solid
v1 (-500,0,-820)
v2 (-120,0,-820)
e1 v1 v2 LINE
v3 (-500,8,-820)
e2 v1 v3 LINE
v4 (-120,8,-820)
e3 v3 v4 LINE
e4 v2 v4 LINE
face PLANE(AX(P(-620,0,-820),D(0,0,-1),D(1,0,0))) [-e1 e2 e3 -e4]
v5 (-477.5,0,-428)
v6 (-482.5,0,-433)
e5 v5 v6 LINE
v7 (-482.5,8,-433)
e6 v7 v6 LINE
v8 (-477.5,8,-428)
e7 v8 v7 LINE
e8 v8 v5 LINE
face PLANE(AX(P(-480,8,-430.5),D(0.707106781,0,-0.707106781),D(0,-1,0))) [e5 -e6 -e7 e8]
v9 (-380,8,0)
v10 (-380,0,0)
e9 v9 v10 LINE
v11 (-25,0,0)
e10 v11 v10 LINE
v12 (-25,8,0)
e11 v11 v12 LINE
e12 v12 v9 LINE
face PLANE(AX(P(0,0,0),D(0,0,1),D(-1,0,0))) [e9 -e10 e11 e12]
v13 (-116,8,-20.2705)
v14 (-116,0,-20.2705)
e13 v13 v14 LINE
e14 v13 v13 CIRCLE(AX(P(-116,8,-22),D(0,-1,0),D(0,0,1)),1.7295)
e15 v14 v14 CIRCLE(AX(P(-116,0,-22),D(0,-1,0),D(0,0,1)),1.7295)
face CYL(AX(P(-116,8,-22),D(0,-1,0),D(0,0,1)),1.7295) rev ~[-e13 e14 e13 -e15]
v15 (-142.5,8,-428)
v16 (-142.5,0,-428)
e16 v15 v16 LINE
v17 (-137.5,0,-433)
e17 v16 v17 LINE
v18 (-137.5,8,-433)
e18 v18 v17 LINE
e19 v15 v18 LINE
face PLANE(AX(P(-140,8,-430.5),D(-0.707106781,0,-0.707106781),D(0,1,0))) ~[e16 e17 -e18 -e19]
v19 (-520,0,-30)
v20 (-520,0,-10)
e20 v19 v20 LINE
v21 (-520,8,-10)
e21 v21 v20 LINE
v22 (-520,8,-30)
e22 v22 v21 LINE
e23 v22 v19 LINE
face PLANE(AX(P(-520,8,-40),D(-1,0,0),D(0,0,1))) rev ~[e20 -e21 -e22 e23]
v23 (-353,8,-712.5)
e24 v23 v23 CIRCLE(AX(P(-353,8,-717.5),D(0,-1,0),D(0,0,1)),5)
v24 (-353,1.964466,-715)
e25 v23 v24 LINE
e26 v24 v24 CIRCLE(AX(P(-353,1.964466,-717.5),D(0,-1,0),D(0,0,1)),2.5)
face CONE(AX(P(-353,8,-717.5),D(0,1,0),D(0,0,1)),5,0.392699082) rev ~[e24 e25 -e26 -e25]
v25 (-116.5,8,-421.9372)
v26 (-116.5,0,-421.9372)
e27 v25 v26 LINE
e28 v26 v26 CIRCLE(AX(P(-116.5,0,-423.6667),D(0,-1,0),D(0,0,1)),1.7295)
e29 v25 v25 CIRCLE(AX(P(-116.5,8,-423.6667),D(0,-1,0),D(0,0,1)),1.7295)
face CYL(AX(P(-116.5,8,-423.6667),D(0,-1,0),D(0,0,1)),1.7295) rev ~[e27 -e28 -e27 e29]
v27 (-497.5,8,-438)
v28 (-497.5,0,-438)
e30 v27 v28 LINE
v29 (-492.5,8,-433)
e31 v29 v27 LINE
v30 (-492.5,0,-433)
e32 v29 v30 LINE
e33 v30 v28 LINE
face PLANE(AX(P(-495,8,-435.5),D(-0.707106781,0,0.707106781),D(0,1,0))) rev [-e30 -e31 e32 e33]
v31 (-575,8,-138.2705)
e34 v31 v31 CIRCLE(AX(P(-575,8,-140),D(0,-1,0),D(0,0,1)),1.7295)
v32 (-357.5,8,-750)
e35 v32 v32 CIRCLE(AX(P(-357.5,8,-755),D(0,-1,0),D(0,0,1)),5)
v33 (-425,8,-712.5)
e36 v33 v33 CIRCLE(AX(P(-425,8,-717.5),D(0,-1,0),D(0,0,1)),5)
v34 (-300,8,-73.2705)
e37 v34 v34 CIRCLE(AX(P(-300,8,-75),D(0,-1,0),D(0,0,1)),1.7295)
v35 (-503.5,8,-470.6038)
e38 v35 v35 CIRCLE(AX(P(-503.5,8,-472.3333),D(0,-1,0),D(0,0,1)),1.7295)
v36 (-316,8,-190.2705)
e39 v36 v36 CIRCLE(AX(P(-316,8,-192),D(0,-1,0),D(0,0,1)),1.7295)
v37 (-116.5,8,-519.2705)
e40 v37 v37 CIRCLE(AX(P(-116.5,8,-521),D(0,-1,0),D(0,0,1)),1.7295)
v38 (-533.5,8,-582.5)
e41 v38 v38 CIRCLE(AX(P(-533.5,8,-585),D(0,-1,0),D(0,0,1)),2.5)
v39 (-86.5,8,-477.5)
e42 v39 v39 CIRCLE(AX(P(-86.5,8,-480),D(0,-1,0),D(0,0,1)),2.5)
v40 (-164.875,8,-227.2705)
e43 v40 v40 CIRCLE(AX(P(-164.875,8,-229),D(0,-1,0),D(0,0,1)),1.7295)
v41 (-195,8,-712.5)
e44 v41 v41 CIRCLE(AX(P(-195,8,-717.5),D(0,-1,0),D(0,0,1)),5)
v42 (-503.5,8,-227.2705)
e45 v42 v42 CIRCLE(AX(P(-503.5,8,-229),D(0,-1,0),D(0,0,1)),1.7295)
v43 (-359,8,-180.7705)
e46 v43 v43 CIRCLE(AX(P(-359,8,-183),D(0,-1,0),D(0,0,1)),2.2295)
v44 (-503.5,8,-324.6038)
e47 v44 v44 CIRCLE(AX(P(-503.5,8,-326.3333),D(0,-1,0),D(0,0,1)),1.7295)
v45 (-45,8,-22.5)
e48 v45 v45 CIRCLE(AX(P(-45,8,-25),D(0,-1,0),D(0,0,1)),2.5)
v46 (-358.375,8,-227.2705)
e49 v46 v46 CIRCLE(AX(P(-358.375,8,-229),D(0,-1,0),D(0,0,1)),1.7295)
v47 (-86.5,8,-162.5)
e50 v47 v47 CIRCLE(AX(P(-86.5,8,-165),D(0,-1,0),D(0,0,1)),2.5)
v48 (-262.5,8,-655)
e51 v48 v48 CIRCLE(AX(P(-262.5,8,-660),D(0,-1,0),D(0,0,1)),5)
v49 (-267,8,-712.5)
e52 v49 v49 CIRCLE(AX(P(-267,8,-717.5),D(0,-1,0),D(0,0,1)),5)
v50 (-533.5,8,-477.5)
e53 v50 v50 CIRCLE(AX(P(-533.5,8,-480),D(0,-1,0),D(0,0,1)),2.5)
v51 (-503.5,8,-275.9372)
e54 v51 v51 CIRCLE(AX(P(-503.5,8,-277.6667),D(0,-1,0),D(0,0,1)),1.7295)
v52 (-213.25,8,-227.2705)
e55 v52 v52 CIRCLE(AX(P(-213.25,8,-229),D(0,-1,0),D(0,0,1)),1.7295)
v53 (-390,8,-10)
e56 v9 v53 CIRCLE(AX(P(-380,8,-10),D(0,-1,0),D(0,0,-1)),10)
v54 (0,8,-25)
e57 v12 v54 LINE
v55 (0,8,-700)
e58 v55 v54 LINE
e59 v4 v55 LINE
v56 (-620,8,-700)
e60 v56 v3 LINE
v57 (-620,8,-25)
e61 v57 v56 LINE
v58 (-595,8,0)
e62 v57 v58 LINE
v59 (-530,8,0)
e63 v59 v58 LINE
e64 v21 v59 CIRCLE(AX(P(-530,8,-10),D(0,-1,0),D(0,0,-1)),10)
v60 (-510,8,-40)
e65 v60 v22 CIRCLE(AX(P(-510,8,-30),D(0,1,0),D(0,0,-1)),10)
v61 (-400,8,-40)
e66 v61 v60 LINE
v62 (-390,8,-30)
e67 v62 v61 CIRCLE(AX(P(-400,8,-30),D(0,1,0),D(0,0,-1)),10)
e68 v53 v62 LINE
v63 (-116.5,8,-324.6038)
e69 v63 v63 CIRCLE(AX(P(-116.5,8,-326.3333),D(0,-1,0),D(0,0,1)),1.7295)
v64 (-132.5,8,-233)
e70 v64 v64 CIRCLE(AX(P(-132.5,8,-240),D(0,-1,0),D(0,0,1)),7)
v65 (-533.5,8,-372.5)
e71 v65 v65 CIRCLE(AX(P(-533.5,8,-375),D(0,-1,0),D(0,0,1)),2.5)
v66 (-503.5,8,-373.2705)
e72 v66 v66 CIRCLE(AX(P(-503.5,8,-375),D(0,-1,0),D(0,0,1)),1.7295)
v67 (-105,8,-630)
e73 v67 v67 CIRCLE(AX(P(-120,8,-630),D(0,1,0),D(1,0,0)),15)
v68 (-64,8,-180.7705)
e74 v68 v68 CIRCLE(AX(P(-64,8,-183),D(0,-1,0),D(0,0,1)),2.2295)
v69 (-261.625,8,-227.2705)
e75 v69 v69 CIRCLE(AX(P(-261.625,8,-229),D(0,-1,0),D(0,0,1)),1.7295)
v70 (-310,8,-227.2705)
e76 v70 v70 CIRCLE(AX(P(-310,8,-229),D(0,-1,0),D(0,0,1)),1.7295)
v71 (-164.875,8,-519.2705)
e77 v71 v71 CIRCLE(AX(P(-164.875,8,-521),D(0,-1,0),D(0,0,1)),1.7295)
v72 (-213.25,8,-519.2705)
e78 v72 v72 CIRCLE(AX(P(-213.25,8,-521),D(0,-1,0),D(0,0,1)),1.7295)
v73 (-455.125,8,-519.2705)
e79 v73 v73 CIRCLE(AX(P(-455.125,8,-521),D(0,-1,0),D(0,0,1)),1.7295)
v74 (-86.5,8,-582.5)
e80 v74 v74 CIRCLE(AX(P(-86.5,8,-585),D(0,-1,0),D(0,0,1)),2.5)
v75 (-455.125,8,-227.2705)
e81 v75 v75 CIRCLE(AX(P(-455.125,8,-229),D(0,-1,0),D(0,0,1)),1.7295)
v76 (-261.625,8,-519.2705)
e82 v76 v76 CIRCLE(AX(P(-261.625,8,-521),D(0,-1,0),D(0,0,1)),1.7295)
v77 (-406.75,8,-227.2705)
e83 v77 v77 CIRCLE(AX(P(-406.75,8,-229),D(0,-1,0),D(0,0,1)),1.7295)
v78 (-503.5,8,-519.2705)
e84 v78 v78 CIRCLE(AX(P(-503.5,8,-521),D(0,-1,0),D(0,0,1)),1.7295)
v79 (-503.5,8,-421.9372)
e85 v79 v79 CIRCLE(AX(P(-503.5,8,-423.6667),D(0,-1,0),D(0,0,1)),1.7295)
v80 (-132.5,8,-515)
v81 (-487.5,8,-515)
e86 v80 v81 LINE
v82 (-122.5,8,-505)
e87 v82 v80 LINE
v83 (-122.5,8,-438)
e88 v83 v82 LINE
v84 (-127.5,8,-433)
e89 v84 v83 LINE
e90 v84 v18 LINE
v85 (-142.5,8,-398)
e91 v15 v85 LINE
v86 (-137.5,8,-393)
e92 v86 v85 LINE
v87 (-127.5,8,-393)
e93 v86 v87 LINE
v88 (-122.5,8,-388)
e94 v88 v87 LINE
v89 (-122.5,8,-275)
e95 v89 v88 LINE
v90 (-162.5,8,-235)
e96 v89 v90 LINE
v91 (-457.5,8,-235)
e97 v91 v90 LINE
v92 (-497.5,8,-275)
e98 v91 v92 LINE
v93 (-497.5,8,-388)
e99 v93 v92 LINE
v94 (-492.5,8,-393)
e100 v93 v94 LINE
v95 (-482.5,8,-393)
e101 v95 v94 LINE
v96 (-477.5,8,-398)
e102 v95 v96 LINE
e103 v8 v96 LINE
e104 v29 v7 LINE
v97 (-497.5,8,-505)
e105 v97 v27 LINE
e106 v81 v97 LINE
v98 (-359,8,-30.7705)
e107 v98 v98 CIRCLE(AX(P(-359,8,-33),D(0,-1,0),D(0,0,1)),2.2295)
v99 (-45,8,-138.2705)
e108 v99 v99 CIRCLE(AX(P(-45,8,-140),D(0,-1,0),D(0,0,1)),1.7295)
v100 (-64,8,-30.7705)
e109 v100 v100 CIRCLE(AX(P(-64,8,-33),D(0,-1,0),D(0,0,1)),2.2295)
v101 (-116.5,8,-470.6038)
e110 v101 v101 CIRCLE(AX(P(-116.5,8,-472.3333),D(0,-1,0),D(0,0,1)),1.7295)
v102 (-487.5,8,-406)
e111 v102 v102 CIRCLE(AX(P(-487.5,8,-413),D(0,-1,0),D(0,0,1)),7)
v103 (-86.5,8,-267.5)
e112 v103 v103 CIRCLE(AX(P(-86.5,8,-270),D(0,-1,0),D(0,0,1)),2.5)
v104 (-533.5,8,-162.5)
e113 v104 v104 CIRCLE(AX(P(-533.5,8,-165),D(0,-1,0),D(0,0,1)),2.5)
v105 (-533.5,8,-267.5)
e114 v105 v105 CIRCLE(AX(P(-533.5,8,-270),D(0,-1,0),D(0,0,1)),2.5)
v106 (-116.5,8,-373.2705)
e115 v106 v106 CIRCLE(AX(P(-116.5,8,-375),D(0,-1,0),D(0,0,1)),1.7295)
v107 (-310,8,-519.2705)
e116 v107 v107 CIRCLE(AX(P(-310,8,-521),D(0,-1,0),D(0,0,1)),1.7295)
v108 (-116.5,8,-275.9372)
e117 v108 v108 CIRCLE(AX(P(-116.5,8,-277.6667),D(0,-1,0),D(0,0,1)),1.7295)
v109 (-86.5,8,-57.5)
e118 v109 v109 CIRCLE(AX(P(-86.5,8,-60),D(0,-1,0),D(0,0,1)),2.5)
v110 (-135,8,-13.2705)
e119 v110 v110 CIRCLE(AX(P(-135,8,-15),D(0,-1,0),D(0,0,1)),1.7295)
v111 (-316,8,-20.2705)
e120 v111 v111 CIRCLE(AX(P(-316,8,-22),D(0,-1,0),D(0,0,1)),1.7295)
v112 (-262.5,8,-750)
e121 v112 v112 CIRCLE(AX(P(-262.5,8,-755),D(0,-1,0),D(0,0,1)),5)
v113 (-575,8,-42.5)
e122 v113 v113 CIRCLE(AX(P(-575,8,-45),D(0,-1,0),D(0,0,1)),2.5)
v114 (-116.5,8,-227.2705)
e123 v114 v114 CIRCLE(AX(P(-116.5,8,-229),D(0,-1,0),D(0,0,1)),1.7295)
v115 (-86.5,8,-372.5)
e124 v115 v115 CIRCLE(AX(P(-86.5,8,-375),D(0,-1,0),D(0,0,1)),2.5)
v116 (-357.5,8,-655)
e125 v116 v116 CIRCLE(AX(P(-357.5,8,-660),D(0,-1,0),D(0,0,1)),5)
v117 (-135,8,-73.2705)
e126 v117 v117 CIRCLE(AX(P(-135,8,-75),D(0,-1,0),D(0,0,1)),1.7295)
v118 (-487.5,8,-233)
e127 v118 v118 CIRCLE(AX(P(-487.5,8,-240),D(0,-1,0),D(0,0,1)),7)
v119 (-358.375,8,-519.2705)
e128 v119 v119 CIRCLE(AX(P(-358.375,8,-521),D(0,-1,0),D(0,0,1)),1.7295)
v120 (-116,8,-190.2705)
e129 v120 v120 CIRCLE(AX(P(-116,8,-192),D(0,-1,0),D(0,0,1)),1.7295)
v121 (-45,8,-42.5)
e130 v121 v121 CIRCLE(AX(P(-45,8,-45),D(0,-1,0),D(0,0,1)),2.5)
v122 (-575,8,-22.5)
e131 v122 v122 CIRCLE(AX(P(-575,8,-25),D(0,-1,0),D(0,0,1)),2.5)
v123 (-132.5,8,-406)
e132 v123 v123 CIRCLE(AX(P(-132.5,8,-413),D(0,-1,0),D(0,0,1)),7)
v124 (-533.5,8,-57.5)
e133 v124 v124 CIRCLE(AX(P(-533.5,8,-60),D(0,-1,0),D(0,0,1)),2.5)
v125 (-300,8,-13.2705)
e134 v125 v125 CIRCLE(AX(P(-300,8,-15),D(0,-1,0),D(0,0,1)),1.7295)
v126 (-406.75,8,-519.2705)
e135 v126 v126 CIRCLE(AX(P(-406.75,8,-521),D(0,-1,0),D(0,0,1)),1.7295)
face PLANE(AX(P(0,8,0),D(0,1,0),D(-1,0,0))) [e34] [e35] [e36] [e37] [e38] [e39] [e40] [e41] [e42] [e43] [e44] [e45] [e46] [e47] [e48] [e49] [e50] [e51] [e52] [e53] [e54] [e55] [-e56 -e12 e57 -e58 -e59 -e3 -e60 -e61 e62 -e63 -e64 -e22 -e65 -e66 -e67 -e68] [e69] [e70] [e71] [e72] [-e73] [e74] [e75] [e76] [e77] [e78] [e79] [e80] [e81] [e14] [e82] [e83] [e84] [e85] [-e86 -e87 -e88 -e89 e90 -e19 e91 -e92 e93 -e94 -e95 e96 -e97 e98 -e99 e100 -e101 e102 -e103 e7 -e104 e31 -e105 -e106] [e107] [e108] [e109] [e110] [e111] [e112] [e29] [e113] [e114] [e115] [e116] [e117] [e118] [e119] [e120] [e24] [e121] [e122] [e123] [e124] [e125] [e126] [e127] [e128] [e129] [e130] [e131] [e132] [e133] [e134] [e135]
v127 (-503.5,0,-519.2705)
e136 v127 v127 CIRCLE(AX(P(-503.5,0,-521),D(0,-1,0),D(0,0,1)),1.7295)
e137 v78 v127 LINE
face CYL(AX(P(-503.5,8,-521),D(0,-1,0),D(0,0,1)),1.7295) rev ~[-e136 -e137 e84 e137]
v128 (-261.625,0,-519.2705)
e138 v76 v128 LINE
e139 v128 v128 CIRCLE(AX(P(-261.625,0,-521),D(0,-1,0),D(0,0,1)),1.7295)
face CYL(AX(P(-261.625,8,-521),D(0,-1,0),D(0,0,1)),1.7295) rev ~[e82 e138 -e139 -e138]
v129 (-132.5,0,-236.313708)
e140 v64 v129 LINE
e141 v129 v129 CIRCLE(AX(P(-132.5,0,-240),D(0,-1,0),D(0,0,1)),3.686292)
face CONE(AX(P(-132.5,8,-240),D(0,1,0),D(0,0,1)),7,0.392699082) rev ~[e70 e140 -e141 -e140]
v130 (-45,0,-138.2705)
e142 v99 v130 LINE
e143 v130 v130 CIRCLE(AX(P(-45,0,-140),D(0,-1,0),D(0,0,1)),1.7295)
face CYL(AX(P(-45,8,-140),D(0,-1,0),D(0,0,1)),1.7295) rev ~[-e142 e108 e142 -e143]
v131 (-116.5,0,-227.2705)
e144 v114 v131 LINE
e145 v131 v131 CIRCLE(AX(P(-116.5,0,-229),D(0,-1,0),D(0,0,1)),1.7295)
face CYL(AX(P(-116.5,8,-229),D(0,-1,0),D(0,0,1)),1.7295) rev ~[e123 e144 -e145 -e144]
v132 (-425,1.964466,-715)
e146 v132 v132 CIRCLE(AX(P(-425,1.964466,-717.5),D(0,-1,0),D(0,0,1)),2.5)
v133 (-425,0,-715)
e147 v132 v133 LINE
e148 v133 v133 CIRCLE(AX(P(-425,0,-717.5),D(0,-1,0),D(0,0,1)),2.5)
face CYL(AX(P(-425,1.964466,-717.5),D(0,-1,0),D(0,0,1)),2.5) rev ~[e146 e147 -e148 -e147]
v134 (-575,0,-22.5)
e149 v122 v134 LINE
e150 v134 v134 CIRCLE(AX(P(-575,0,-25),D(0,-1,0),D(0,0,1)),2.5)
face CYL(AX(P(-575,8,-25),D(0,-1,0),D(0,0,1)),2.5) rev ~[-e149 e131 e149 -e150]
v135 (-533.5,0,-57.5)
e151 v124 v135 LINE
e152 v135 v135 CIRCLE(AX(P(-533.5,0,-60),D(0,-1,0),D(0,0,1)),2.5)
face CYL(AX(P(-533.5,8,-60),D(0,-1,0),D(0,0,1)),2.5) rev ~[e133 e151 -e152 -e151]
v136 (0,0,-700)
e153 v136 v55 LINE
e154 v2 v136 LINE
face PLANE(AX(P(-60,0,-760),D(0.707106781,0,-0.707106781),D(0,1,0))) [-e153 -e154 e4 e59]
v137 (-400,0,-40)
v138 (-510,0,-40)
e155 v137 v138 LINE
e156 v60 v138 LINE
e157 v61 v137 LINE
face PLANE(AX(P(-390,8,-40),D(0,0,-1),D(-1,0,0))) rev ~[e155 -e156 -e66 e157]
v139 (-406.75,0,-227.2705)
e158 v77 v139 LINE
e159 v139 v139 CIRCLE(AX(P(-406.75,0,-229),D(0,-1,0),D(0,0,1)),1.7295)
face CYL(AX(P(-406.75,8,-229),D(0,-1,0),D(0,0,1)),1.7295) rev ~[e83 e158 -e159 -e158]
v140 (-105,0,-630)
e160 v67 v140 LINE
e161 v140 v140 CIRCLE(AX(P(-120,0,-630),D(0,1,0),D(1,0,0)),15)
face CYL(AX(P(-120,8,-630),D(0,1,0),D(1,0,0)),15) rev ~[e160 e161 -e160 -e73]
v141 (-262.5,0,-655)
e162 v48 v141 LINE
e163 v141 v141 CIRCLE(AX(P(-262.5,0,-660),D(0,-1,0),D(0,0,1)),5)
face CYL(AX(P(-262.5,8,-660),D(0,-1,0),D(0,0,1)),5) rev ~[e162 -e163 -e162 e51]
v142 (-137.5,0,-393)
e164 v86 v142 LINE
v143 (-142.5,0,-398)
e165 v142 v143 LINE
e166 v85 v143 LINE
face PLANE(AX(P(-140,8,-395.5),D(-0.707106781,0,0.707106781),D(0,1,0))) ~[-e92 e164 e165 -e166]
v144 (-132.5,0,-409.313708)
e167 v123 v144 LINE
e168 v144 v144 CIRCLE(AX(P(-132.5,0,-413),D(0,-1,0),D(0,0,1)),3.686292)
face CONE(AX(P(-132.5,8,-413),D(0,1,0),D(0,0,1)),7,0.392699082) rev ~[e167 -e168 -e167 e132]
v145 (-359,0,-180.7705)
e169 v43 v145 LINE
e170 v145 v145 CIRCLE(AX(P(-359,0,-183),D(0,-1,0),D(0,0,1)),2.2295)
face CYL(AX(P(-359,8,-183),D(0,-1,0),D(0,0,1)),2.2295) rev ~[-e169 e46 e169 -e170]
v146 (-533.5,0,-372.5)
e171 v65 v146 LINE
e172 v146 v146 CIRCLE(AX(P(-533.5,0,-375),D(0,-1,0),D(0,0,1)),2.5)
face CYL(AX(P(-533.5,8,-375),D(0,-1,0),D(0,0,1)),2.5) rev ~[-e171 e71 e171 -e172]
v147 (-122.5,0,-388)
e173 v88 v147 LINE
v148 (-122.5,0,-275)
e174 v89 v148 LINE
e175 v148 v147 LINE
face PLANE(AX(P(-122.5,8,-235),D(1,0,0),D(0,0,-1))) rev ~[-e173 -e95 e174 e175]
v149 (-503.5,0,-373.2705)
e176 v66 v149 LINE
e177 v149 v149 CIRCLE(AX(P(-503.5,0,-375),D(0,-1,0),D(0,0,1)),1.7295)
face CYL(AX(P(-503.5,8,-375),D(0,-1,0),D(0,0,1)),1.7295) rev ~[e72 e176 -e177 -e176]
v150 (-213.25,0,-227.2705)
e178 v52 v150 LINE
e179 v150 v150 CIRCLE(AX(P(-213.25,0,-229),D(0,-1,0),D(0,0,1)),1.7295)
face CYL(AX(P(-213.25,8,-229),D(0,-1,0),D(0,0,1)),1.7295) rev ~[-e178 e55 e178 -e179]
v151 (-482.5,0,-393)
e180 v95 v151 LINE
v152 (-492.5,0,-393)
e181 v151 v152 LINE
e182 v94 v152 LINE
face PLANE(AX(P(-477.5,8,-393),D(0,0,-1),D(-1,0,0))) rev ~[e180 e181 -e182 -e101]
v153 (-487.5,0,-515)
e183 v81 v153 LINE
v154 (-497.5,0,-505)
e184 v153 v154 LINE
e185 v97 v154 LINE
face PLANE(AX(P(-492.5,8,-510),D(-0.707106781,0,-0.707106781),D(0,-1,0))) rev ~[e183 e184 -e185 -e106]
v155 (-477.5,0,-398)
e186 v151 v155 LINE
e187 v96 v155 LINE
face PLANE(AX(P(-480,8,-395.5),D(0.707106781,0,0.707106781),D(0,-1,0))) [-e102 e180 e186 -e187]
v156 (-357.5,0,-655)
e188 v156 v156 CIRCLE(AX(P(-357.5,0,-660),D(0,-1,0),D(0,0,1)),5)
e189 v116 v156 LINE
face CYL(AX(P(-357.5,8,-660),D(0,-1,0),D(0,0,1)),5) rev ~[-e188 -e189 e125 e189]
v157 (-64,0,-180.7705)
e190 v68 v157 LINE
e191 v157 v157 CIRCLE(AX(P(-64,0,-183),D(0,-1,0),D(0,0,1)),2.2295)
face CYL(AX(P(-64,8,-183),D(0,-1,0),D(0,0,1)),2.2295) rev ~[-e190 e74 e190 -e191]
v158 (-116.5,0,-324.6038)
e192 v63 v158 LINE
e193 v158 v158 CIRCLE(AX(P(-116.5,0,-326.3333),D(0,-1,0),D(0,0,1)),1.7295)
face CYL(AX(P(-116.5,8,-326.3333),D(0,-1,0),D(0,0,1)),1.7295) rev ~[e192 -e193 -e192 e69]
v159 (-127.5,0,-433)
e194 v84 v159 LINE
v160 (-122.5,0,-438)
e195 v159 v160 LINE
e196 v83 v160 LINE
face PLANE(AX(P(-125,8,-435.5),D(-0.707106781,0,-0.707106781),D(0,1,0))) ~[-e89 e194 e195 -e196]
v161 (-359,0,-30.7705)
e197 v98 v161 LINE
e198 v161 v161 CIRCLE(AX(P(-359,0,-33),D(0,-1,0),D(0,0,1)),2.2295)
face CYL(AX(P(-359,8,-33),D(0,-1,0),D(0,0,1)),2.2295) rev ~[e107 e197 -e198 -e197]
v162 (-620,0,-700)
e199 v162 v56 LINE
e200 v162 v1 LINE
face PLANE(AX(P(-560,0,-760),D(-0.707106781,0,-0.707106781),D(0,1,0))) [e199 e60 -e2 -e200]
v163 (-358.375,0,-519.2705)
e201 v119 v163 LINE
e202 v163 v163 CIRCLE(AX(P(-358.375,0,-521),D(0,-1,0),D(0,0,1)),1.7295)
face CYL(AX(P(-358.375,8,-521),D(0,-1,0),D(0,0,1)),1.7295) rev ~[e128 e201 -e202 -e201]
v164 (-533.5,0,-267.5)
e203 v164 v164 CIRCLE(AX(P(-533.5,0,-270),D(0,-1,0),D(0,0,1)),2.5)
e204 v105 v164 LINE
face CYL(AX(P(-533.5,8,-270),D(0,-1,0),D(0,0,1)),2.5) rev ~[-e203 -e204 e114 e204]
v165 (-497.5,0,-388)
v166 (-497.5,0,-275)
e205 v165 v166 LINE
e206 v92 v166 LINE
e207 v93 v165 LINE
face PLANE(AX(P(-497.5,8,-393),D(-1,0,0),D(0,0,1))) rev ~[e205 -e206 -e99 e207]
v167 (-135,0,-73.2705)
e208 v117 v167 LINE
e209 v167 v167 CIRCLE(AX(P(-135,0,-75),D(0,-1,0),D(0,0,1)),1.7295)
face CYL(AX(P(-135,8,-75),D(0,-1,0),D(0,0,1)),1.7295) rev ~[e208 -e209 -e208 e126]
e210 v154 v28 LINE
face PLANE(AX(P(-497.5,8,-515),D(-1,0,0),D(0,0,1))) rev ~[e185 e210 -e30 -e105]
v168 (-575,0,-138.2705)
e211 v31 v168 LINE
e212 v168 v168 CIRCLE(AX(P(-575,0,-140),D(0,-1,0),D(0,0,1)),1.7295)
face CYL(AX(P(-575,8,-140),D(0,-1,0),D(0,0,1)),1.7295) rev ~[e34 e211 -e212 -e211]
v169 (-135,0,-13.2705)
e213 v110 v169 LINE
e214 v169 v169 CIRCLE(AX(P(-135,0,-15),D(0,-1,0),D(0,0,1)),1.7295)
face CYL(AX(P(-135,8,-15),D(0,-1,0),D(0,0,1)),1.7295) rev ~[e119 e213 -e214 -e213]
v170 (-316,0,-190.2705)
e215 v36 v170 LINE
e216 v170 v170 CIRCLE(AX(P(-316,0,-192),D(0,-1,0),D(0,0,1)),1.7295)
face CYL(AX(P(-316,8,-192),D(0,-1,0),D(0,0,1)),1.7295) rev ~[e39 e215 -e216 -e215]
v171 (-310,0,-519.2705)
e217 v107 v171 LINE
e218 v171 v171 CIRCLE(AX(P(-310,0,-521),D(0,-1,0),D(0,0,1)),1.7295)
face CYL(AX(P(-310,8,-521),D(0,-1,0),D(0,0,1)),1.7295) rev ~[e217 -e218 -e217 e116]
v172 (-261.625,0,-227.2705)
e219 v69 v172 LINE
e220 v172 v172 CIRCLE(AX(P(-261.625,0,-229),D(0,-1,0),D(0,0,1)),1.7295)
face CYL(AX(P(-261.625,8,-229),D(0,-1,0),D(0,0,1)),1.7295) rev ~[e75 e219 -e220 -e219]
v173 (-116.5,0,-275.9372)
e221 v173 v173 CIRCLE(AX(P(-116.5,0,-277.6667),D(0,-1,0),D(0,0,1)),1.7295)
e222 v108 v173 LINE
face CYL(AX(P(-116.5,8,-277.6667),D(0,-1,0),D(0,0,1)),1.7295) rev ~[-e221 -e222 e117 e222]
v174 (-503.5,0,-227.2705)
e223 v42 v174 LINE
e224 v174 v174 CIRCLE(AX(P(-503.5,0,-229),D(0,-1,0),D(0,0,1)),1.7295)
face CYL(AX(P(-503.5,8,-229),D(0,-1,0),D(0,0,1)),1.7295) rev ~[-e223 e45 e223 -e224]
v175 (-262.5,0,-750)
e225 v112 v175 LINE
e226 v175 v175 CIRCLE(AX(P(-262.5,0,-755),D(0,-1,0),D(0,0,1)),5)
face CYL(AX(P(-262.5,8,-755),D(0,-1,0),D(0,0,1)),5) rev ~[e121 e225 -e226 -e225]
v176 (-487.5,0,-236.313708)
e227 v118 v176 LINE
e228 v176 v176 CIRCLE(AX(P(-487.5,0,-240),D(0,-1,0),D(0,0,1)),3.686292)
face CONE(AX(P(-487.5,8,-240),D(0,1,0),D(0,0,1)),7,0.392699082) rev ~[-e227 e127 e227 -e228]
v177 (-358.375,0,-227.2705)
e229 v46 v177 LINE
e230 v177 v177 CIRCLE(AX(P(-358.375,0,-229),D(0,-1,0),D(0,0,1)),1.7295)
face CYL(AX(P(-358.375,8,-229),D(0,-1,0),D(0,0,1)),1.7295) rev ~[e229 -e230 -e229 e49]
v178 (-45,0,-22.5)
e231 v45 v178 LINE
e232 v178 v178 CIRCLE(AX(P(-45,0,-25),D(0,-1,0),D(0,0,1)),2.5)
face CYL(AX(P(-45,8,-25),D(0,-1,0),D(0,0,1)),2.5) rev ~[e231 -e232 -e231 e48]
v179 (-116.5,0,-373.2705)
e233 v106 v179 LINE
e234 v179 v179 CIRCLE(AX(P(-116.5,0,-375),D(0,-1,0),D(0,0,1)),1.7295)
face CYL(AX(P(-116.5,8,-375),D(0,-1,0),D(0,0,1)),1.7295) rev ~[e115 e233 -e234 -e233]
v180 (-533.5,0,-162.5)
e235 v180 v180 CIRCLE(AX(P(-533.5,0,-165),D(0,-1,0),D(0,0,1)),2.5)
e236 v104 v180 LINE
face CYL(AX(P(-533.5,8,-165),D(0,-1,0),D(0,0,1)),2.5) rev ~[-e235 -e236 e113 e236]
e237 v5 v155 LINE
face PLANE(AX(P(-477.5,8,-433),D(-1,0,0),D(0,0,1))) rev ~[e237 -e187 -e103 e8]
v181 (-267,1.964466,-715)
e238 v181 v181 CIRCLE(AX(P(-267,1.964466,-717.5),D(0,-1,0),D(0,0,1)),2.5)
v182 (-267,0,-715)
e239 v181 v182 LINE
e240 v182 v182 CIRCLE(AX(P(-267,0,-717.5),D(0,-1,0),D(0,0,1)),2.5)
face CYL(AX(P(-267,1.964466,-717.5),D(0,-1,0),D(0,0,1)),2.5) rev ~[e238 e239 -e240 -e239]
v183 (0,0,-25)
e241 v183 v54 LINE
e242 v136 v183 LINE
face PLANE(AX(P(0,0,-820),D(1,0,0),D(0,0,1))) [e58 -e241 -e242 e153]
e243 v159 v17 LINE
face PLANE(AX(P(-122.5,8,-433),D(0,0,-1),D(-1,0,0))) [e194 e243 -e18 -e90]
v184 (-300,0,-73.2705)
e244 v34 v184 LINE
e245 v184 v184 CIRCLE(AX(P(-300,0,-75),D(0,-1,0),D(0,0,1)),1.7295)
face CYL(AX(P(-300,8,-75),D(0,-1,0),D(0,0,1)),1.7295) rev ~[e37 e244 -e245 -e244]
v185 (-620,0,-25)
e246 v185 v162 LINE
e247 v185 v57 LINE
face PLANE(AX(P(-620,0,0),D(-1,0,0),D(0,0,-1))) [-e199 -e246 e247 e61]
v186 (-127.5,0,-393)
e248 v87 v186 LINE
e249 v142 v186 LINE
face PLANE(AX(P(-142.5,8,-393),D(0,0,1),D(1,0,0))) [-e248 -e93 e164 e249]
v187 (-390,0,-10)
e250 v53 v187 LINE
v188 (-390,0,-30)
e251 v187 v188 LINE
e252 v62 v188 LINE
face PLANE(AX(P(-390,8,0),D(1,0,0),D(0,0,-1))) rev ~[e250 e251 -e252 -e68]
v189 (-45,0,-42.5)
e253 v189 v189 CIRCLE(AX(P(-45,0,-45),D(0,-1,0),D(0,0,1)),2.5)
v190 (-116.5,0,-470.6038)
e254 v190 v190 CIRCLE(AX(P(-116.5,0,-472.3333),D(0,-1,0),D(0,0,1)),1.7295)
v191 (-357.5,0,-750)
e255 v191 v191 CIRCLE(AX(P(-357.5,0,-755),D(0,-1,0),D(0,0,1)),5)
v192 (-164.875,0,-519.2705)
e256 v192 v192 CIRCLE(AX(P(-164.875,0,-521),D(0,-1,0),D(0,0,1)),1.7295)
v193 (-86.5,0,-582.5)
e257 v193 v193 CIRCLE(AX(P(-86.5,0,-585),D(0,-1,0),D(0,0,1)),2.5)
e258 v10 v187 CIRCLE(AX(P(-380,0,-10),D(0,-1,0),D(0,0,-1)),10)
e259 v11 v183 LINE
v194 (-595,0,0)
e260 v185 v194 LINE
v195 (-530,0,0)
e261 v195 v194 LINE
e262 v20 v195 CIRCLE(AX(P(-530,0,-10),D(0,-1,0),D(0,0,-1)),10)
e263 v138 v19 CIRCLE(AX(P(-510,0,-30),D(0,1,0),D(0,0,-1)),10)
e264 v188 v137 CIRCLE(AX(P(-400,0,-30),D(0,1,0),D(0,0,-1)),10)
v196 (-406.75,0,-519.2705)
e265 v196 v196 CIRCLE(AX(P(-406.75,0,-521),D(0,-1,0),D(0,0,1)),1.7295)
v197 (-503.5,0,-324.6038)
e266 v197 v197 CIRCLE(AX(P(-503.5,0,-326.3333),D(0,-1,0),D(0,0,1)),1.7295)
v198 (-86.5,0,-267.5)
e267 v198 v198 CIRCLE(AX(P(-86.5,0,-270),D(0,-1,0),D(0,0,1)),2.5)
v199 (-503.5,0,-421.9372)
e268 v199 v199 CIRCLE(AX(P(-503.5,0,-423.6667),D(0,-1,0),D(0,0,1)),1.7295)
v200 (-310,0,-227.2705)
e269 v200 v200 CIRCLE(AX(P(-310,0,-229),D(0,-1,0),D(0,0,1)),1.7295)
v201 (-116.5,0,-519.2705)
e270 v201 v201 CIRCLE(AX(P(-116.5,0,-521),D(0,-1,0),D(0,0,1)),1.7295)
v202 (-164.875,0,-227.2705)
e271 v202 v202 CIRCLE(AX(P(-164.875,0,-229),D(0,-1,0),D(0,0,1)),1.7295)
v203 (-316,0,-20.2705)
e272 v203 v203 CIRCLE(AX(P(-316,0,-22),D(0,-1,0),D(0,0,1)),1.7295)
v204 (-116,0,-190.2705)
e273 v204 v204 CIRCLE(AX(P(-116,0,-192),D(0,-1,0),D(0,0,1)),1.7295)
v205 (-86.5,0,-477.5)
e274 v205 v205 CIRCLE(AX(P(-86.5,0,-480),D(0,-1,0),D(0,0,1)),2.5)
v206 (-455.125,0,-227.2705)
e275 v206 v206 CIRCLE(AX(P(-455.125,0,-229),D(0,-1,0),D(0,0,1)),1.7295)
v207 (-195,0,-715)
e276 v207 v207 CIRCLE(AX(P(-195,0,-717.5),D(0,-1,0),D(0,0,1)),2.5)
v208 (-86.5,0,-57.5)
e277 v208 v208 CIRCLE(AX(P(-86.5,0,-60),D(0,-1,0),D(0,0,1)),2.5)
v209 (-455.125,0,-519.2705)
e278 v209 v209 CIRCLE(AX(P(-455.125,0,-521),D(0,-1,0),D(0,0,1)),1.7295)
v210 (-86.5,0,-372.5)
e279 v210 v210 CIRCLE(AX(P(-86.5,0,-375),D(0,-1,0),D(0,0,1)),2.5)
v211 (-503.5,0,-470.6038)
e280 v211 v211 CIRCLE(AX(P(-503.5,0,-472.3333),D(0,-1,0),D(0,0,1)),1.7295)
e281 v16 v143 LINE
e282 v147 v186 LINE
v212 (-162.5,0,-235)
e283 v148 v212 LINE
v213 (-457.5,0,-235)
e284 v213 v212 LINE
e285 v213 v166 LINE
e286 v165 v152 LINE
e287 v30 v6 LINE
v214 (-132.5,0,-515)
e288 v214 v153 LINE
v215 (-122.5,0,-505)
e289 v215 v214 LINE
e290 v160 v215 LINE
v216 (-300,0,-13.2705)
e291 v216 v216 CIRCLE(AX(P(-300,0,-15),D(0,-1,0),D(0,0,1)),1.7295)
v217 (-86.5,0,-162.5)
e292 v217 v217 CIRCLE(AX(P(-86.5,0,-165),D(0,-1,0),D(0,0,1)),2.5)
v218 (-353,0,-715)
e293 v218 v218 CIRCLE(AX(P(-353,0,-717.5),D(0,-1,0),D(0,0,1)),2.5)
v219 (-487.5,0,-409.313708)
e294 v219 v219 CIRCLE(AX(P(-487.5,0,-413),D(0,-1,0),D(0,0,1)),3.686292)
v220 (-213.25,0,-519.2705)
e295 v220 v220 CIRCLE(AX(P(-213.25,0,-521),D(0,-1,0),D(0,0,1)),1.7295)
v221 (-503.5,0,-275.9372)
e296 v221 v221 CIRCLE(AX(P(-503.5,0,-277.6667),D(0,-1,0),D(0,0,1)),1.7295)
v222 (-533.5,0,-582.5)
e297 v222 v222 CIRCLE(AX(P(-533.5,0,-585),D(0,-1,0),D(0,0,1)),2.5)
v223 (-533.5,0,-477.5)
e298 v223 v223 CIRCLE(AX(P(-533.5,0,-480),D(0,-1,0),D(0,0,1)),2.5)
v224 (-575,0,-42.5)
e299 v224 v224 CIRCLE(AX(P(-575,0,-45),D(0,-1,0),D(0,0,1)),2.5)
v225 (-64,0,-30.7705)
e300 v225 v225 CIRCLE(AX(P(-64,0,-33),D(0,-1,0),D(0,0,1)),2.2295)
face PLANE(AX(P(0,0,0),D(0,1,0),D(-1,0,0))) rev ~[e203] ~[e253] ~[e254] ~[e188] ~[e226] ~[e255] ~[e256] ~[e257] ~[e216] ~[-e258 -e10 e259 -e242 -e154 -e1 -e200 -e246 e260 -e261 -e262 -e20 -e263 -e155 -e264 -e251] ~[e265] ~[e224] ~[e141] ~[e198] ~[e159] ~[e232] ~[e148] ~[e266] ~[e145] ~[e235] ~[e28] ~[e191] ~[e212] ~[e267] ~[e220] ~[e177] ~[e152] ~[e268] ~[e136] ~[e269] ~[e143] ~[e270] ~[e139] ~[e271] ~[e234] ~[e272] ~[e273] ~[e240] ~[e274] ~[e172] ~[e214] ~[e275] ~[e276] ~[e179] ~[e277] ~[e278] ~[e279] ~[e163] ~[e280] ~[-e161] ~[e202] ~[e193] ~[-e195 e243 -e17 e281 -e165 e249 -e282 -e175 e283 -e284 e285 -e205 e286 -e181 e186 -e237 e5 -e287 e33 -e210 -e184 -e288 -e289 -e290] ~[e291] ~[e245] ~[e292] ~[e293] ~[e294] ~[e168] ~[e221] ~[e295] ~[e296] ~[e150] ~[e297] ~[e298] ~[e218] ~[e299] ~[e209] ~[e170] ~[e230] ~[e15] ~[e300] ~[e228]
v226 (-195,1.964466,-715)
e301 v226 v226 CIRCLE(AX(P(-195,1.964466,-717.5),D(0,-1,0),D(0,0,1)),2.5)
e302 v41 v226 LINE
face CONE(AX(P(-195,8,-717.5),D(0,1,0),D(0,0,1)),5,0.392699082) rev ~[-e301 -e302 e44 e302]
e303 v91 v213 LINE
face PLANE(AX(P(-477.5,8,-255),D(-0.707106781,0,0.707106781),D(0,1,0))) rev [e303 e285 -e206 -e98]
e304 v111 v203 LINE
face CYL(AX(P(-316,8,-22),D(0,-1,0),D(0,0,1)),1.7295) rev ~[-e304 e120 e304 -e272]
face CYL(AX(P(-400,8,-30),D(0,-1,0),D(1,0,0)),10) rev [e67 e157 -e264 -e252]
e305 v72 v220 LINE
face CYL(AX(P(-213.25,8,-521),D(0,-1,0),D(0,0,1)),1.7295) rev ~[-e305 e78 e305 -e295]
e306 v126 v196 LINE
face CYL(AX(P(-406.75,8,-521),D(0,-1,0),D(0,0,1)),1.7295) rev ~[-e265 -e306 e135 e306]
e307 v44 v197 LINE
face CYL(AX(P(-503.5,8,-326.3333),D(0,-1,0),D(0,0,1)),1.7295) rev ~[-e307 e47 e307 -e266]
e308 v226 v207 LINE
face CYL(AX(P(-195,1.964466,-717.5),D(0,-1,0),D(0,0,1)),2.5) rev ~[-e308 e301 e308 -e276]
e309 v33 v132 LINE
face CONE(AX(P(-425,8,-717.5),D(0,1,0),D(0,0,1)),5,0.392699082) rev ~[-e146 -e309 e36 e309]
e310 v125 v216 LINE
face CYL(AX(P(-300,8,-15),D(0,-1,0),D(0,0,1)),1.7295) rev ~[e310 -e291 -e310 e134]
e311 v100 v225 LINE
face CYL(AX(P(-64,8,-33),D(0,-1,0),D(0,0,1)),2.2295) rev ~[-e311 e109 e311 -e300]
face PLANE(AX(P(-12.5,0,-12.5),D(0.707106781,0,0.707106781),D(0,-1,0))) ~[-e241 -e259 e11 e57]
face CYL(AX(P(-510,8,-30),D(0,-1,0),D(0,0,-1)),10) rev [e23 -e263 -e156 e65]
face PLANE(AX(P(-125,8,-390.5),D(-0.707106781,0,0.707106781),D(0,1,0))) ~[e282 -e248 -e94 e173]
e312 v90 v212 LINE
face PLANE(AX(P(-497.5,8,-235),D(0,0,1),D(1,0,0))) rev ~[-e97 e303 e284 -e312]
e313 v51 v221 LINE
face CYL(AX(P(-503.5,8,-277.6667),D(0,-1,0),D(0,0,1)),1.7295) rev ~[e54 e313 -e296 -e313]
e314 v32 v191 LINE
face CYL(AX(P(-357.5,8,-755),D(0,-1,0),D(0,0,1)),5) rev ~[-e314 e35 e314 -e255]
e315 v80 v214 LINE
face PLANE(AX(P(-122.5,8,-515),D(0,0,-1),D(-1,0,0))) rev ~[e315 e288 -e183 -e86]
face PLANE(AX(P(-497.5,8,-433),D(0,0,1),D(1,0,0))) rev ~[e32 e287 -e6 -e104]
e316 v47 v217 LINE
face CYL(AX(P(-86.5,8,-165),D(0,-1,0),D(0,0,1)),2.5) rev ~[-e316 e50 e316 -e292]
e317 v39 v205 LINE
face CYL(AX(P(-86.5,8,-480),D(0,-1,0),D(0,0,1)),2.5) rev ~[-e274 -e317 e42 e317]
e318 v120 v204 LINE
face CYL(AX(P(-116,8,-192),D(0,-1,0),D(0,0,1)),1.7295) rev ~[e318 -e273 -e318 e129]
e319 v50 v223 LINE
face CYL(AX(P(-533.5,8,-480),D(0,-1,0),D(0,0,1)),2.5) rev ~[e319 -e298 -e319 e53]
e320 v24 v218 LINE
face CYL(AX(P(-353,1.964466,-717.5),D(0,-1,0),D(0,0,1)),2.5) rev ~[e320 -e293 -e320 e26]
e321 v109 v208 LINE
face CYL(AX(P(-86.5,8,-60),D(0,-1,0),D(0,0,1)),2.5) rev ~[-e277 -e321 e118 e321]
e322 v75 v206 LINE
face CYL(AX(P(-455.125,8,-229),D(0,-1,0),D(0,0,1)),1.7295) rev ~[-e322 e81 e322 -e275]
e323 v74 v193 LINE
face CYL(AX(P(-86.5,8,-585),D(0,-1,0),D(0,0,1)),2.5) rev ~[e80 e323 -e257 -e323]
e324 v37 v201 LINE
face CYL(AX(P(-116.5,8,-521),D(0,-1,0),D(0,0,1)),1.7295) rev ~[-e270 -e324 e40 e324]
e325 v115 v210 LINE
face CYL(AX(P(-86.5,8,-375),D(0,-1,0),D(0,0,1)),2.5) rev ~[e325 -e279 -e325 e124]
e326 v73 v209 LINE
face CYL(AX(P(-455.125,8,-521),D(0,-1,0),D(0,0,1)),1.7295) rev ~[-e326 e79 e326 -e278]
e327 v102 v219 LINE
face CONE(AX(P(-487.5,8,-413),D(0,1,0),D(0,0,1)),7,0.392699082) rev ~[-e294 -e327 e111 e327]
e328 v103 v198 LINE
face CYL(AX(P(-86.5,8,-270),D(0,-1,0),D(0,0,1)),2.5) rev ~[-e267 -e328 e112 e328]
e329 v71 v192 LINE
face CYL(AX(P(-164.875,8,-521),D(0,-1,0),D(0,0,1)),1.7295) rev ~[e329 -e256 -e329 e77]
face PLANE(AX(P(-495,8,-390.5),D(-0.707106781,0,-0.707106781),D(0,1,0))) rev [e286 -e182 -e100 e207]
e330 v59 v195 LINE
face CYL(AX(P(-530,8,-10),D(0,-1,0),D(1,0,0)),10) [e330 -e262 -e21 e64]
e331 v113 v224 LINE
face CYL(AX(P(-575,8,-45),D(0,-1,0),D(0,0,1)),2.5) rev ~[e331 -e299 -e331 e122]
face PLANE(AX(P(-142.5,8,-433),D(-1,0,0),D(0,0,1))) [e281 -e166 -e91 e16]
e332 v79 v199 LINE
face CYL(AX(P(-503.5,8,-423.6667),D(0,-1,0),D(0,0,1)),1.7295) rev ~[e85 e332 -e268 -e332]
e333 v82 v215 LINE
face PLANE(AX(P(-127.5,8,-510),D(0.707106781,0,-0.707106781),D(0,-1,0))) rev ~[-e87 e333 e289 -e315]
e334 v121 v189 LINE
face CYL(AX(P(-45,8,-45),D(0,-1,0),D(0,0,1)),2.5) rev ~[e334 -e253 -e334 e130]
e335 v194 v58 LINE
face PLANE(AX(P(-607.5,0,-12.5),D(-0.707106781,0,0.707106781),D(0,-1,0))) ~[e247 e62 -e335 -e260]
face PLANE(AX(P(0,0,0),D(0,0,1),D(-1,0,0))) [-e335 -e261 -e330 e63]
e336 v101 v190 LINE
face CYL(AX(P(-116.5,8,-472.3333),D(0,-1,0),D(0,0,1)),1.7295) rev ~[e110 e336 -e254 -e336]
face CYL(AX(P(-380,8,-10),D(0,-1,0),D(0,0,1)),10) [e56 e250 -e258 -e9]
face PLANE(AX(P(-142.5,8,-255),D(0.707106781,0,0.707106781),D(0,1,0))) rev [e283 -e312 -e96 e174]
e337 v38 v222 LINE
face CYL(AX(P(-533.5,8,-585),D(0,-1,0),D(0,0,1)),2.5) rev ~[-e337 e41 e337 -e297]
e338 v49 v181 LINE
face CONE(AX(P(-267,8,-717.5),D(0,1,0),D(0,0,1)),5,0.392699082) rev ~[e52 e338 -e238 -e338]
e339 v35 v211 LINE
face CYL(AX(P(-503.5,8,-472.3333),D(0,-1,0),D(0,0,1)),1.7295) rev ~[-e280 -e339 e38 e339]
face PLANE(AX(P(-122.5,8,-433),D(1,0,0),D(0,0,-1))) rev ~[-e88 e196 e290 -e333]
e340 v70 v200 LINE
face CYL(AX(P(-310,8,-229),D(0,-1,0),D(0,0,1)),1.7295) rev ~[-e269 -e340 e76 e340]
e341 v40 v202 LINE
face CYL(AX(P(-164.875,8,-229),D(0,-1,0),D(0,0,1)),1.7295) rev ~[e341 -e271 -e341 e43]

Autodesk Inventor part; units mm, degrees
ref_plane "YZ Plane" through (0, 0, 0) normal (1, 0, 0) x (0, 1, 0)
ref_plane "XZ Plane" through (0, 0, 0) normal (0, 1, 0) x (-1, 0, 0)
ref_plane "XY Plane" through (0, 0, 0) normal (0, 0, 1) x (1, 0, 0)
sketch "Schizzo1" plane through (0, 0, 0) normal (0, 1, 0) x (-1, 0, 0)
  line L0 (0, 0) -> (620, 0)
  line L1 (620, 0) -> (620, -820)
  line L2 (620, -820) -> (0, -820)
  line L3 (0, -820) -> (0, 0)
  dimension "d0" = 620
  dimension "d1" = 820
extrude "Estrusione1" add sketch "Schizzo1" along normal blind 8
chamfer "Smusso1" distance 120 angle 45 2 edges at (0, 4, -820) (-620, 4, -820)
chamfer "Smusso2" distance 25 angle 45 2 edges at (-620, 4, 0) (0, 4, 0)
sketch "Schizzo2" plane through (0, 8, 0) normal (0, 1, 0) x (1, 0, 0)
  line L0 (-520, 0) -> (-390, 0)
  line L1 (-390, 0) -> (-390, 40)
  line L2 (-390, 40) -> (-520, 40)
  line L3 (-520, 40) -> (-520, 0)
  line L4 (-620, 700) -> (-620, 25) projected
  point P0 (0, 0)
  dimension "d10" = 130
  dimension "d11" = 40
  dimension "d12" = 100
extrude "Estrusione2" cut sketch "Schizzo2" against normal blind 8
fillet "Raccordo1" radius 10 4 edges at (-390, 4, 0) (-390, 4, -40) (-520, 4, 0) (-520, 4, -40)
sketch "Schizzo3" plane through (0, 8, 0) normal (0, 1, 0) x (1, 0, 0)
  line L0 (-120, 820) -> (-500, 820) projected
  line L1 (0, 25) -> (0, 700) projected
  line L2 (-380, 0) -> (-25, 0) projected
  line L3 (-310, 820) -> (-310, 0) construction
  circle A0 centre (-120, 630) radius 15
  point P0 (0, 0)
  point P1 (-86.5, 60)
  point P2 (-86.5, 165)
  point P3 (-86.5, 270)
  point P4 (-86.5, 375)
  point P5 (-86.5, 480)
  point P6 (-86.5, 585)
  point P7 (-533.5, 60)
  point P8 (-533.5, 165)
  point P9 (-533.5, 270)
  point P10 (-533.5, 375)
  point P11 (-533.5, 480)
  point P12 (-533.5, 585)
  dimension "d16" = 190
  dimension "d17" = 120
  dimension "d18" = 86.5
  dimension "d21" = 105
  dimension "d26" = 60
  dimension "d27" = 30
extrude "Estrusione3" cut sketch "Schizzo3" against normal blind 8
hole "Foro1" at (-120, 8, -630) at (-86.5, 8, -60) at (-86.5, 8, -165) at (-86.5, 8, -270) at (-86.5, 8, -375) at (-86.5, 8, -480) at (-86.5, 8, -585) at (-533.5, 8, -585) at (-533.5, 8, -480) at (-533.5, 8, -375) at (-533.5, 8, -270) at (-533.5, 8, -165) at (-533.5, 8, -60) direction (0, -1, 0) diameter 5 end through all
sketch "Schizzo4" plane through (0, 8, 0) normal (0, 1, 0) x (1, 0, 0)
  line L0 (-120, 820) -> (-500, 820) projected
  line L1 (0, 25) -> (0, 700) projected
  line L2 (-500, 820) -> (-120, 820) projected
  line L3 (-310, 820) -> (-310, 0) construction
  line L4 (-25, 0) -> (-380, 0) projected
  point P0 (0, 0)
  point P1 (-195, 717.5)
  point P2 (-267, 717.5)
  point P3 (-425, 717.5)
  point P4 (-353, 717.5)
  dimension "d37" = 72
  dimension "d38" = 102.5
  dimension "d39" = 195
hole "Foro2" at (-195, 8, -717.5) at (-267, 8, -717.5) at (-425, 8, -717.5) at (-353, 8, -717.5) direction (0, -1, 0) diameter 5 end through all countersink diameter 10 countersink angle 45
sketch "Schizzo5" plane through (0, 8, 0) normal (0, 1, 0) x (1, 0, 0)
  line L0 (-120, 820) -> (-500, 820) projected
  line L1 (0, 25) -> (0, 700) projected
  line L2 (-500, 820) -> (-120, 820) projected
  line L3 (-310, 820) -> (-310, 545.1778) construction
  point P0 (0, 0)
  point P1 (-262.5, 755)
  point P2 (-357.5, 755)
  point P3 (-262.5, 660)
  point P4 (-357.5, 660)
  dimension "d47" = 65
  dimension "d50" = 95
  dimension "d53" = 95
  dimension "d56" = 47.5
hole "Foro3" at (-262.5, 8, -755) at (-357.5, 8, -755) at (-262.5, 8, -660) at (-357.5, 8, -660) direction (0, -1, 0) diameter 10 end through all
sketch "Schizzo6" plane through (0, 8, 0) normal (0, 1, 0) x (1, 0, 0)
  line L0 (-122.5, 515) -> (-497.5, 515)
  line L1 (-497.5, 235) -> (-122.5, 235)
  line L2 (-120, 820) -> (-500, 820) projected
  line L3 (-497.5, 433) -> (-477.5, 433)
  line L4 (-477.5, 433) -> (-477.5, 393)
  line L5 (-477.5, 393) -> (-497.5, 393)
  line L6 (-310, 515) -> (-310, 447.5629) construction
  line L7 (-122.5, 433) -> (-142.5, 433)
  line L8 (-142.5, 433) -> (-142.5, 393)
  line L9 (-142.5, 393) -> (-122.5, 393)
  line L10 (-497.5, 515) -> (-497.5, 433)
  line L11 (-497.5, 393) -> (-497.5, 235)
  line L12 (-122.5, 235) -> (-122.5, 393)
  line L13 (-122.5, 433) -> (-122.5, 515)
  point P0 (0, 0)
  point P1 (-310, 820)
  dimension "d64" = 375
  dimension "d65" = 280
  dimension "d66" = 305
  dimension "d69" = 82
  dimension "d71" = 40
  dimension "d72" = 20
extrude "Estrusione4" cut sketch "Schizzo6" against normal blind 8
chamfer "Smusso3" distance 10 angle 45 2 edges at (-497.5, 4, -515) (-122.5, 4, -515)
chamfer "Smusso4" distance 40 angle 45 2 edges at (-497.5, 4, -235) (-122.5, 4, -235)
chamfer "Smusso5" distance 5 angle 45 8 edges at (-122.5, 4, -433) (-142.5, 4, -433) (-142.5, 4, -393) (-122.5, 4, -393) (-497.5, 4, -433) (-477.5, 4, -433) (-477.5, 4, -393) (-497.5, 4, -393)
sketch "Schizzo7" plane through (0, 8, 0) normal (0, 1, 0) x (1, 0, 0)
  line L0 (-477.5, 398) -> (-477.5, 428) projected
  line L1 (-482.5, 433) -> (-492.5, 433) projected
  line L2 (-127.5, 433) -> (-137.5, 433) projected
  line L3 (-142.5, 428) -> (-142.5, 398) projected
  point P0 (0, 0)
  point P1 (-487.5, 413)
  point P2 (-132.5, 413)
  point P3 (-132.5, 240)
  point P4 (-487.5, 240)
  dimension "d84" = 173
  dimension "d85" = 10
  dimension "d86" = 20
  dimension "d87" = 20
  dimension "d88" = 10
hole "Foro4" at (-487.5, 8, -413) at (-132.5, 8, -413) at (-132.5, 8, -240) at (-487.5, 8, -240) direction (0, -1, 0) diameter 7 end through all countersink diameter 14 countersink angle 45
sketch "Schizzo8" plane through (0, 8, 0) normal (0, 1, 0) x (1, 0, 0)
  line L0 (-122.5, 515) -> (-497.5, 515) construction
  line L1 (-497.5, 515) -> (-497.5, 235) construction
  line L2 (-497.5, 235) -> (-122.5, 235) construction
  line L3 (-122.5, 235) -> (-122.5, 515) construction
  line L4 (-503.5, 521) -> (-116.5, 521) construction
  line L5 (-116.5, 521) -> (-116.5, 229) construction
  line L6 (-116.5, 229) -> (-503.5, 229) construction
  line L7 (-503.5, 229) -> (-503.5, 521) construction
  point P0 (0, 0)
  point P1 (-164.875, 521)
  point P2 (-213.25, 521)
  point P3 (-261.625, 521)
  point P4 (-310, 521)
  point P5 (-358.375, 521)
  point P6 (-406.75, 521)
  point P7 (-455.125, 521)
  point P8 (-503.5, 521)
  point P9 (-116.5, 229)
  point P10 (-164.875, 229)
  point P11 (-213.25, 229)
  point P12 (-261.625, 229)
  point P13 (-310, 229)
  point P14 (-358.375, 229)
  point P15 (-406.75, 229)
  point P16 (-455.125, 229)
  point P17 (-503.5, 229)
  point P18 (-116.5, 277.6667)
  point P19 (-116.5, 326.3333)
  point P20 (-116.5, 375)
  point P21 (-116.5, 423.6667)
  point P22 (-116.5, 472.3333)
  point P23 (-503.5, 277.6667)
  point P24 (-503.5, 326.3333)
  point P25 (-503.5, 375)
  point P26 (-503.5, 423.6667)
  point P27 (-503.5, 472.3333)
  dimension "d96" = 375
  dimension "d97" = 280
  dimension "d98" = 6
  dimension "d99" = 387
  dimension "d100" = 292
  dimension "d103" = 48.375
  dimension "d106" = 292
  dimension "d114" = 48.6667
  dimension "d118" = 48.6667
hole "Foro5" at (-116.5, 8, -521) at (-164.875, 8, -521) at (-213.25, 8, -521) at (-261.625, 8, -521) at (-310, 8, -521) at (-358.375, 8, -521) at (-406.75, 8, -521) at (-455.125, 8, -521) at (-503.5, 8, -521) at (-116.5, 8, -229) at (-164.875, 8, -229) at (-213.25, 8, -229) at (-261.625, 8, -229) at (-310, 8, -229) at (-358.375, 8, -229) at (-406.75, 8, -229) at (-455.125, 8, -229) at (-503.5, 8, -229) at (-116.5, 8, -277.6667) at (-116.5, 8, -326.3333) at (-116.5, 8, -375) at (-116.5, 8, -423.6667) at (-116.5, 8, -472.3333) at (-503.5, 8, -277.6667) at (-503.5, 8, -326.3333) at (-503.5, 8, -375) at (-503.5, 8, -423.6667) at (-503.5, 8, -472.3333) direction (0, -1, 0) diameter 3.459 end through all thread size "M4x0.5" class "6H" standard "ISO Metric profile"
sketch "Schizzo9" plane through (0, 8, 0) normal (0, 1, 0) x (1, 0, 0)
  line L0 (-380, 0) -> (-25, 0) projected
  line L1 (0, 25) -> (0, 700) projected
  line L2 (-500, 820) -> (-120, 820) projected
  line L3 (-310, 820) -> (-310, 614.2026) construction
  point P0 (0, 0)
  point P1 (-45, 45)
  point P2 (-45, 25)
  point P3 (-575, 45)
  point P4 (-575, 25)
  dimension "d130" = 20
  dimension "d131" = 25
  dimension "d132" = 45
hole "Foro6" at (-45, 8, -45) at (-45, 8, -25) at (-575, 8, -45) at (-575, 8, -25) direction (0, -1, 0) diameter 5 end through all
sketch "Schizzo10" plane through (0, 8, 0) normal (0, 1, 0) x (1, 0, 0)
  line L0 (-620, 700) -> (-620, 25) projected
  line L1 (-595, 0) -> (-530, 0) projected
  line L2 (-310, 820) -> (-310, 614.2026) construction
  point P0 (0, 0)
  point P1 (-575, 140)
  point P2 (-45, 140)
  dimension "d140" = 45
  dimension "d141" = 140
hole "Foro7" at (-575, 8, -140) at (-45, 8, -140) direction (0, -1, 0) diameter 3.459 end through all thread size "M4x0.5" class "6H" standard "ISO Metric profile"
sketch "Schizzo11" plane through (0, 8, 0) normal (0, 1, 0) x (1, 0, 0)
  line L0 (-380, 0) -> (-25, 0) projected
  line L1 (0, 25) -> (0, 700) projected
  point P0 (0, 0)
  point P1 (-300, 75)
  point P2 (-300, 15)
  point P3 (-135, 15)
  point P4 (-135, 75)
  dimension "d149" = 15
  dimension "d150" = 75
  dimension "d151" = 165
  dimension "d152" = 135
hole "Foro8" at (-135, 8, -15) at (-135, 8, -75) at (-300, 8, -75) at (-300, 8, -15) direction (0, -1, 0) diameter 3.459 end through all thread size "M4x0.5" class "6H" standard "ISO Metric profile"
sketch "Schizzo12" plane through (0, 8, 0) normal (0, 1, 0) x (1, 0, 0)
  line L0 (-380, 0) -> (-25, 0) projected
  line L1 (0, 25) -> (0, 700) projected
  point P0 (0, 0)
  point P1 (-316, 22)
  point P2 (-316, 192)
  point P3 (-116, 192)
  point P4 (-116, 22)
  dimension "d161" = 22
  dimension "d162" = 116
  dimension "d163" = 200
  dimension "d164" = 170
hole "Foro9" at (-316, 8, -192) at (-116, 8, -192) at (-116, 8, -22) at (-316, 8, -22) direction (0, -1, 0) diameter 3.459 end through all thread size "M4x0.5" class "6H" standard "ISO Metric profile"
sketch "Schizzo13" plane through (0, 8, 0) normal (0, 1, 0) x (1, 0, 0)
  line L0 (0, 25) -> (0, 700) projected
  line L1 (-380, 0) -> (-25, 0) projected
  point P0 (0, 0)
  point P1 (-359, 183)
  point P2 (-359, 33)
  point P3 (-64, 33)
  point P4 (-64, 183)
  dimension "d172" = 295
  dimension "d173" = 150
  dimension "d174" = 64
  dimension "d175" = 183
hole "Foro10" at (-359, 8, -183) at (-359, 8, -33) at (-64, 8, -183) at (-64, 8, -33) direction (0, -1, 0) diameter 4.459 end through all thread size "M5x0.5" class "6H" standard "ISO Metric profile"
equation "\"d56\" = 0.5 * d50"
equation "\"d103\" = 0.125 * d99"
equation "\"d106\" = d100"
equation "\"d114\" = 0.166667 * d100"
equation "\"d118\" = 0.166667 * d100"
properties part number "Husky_top_plate"
